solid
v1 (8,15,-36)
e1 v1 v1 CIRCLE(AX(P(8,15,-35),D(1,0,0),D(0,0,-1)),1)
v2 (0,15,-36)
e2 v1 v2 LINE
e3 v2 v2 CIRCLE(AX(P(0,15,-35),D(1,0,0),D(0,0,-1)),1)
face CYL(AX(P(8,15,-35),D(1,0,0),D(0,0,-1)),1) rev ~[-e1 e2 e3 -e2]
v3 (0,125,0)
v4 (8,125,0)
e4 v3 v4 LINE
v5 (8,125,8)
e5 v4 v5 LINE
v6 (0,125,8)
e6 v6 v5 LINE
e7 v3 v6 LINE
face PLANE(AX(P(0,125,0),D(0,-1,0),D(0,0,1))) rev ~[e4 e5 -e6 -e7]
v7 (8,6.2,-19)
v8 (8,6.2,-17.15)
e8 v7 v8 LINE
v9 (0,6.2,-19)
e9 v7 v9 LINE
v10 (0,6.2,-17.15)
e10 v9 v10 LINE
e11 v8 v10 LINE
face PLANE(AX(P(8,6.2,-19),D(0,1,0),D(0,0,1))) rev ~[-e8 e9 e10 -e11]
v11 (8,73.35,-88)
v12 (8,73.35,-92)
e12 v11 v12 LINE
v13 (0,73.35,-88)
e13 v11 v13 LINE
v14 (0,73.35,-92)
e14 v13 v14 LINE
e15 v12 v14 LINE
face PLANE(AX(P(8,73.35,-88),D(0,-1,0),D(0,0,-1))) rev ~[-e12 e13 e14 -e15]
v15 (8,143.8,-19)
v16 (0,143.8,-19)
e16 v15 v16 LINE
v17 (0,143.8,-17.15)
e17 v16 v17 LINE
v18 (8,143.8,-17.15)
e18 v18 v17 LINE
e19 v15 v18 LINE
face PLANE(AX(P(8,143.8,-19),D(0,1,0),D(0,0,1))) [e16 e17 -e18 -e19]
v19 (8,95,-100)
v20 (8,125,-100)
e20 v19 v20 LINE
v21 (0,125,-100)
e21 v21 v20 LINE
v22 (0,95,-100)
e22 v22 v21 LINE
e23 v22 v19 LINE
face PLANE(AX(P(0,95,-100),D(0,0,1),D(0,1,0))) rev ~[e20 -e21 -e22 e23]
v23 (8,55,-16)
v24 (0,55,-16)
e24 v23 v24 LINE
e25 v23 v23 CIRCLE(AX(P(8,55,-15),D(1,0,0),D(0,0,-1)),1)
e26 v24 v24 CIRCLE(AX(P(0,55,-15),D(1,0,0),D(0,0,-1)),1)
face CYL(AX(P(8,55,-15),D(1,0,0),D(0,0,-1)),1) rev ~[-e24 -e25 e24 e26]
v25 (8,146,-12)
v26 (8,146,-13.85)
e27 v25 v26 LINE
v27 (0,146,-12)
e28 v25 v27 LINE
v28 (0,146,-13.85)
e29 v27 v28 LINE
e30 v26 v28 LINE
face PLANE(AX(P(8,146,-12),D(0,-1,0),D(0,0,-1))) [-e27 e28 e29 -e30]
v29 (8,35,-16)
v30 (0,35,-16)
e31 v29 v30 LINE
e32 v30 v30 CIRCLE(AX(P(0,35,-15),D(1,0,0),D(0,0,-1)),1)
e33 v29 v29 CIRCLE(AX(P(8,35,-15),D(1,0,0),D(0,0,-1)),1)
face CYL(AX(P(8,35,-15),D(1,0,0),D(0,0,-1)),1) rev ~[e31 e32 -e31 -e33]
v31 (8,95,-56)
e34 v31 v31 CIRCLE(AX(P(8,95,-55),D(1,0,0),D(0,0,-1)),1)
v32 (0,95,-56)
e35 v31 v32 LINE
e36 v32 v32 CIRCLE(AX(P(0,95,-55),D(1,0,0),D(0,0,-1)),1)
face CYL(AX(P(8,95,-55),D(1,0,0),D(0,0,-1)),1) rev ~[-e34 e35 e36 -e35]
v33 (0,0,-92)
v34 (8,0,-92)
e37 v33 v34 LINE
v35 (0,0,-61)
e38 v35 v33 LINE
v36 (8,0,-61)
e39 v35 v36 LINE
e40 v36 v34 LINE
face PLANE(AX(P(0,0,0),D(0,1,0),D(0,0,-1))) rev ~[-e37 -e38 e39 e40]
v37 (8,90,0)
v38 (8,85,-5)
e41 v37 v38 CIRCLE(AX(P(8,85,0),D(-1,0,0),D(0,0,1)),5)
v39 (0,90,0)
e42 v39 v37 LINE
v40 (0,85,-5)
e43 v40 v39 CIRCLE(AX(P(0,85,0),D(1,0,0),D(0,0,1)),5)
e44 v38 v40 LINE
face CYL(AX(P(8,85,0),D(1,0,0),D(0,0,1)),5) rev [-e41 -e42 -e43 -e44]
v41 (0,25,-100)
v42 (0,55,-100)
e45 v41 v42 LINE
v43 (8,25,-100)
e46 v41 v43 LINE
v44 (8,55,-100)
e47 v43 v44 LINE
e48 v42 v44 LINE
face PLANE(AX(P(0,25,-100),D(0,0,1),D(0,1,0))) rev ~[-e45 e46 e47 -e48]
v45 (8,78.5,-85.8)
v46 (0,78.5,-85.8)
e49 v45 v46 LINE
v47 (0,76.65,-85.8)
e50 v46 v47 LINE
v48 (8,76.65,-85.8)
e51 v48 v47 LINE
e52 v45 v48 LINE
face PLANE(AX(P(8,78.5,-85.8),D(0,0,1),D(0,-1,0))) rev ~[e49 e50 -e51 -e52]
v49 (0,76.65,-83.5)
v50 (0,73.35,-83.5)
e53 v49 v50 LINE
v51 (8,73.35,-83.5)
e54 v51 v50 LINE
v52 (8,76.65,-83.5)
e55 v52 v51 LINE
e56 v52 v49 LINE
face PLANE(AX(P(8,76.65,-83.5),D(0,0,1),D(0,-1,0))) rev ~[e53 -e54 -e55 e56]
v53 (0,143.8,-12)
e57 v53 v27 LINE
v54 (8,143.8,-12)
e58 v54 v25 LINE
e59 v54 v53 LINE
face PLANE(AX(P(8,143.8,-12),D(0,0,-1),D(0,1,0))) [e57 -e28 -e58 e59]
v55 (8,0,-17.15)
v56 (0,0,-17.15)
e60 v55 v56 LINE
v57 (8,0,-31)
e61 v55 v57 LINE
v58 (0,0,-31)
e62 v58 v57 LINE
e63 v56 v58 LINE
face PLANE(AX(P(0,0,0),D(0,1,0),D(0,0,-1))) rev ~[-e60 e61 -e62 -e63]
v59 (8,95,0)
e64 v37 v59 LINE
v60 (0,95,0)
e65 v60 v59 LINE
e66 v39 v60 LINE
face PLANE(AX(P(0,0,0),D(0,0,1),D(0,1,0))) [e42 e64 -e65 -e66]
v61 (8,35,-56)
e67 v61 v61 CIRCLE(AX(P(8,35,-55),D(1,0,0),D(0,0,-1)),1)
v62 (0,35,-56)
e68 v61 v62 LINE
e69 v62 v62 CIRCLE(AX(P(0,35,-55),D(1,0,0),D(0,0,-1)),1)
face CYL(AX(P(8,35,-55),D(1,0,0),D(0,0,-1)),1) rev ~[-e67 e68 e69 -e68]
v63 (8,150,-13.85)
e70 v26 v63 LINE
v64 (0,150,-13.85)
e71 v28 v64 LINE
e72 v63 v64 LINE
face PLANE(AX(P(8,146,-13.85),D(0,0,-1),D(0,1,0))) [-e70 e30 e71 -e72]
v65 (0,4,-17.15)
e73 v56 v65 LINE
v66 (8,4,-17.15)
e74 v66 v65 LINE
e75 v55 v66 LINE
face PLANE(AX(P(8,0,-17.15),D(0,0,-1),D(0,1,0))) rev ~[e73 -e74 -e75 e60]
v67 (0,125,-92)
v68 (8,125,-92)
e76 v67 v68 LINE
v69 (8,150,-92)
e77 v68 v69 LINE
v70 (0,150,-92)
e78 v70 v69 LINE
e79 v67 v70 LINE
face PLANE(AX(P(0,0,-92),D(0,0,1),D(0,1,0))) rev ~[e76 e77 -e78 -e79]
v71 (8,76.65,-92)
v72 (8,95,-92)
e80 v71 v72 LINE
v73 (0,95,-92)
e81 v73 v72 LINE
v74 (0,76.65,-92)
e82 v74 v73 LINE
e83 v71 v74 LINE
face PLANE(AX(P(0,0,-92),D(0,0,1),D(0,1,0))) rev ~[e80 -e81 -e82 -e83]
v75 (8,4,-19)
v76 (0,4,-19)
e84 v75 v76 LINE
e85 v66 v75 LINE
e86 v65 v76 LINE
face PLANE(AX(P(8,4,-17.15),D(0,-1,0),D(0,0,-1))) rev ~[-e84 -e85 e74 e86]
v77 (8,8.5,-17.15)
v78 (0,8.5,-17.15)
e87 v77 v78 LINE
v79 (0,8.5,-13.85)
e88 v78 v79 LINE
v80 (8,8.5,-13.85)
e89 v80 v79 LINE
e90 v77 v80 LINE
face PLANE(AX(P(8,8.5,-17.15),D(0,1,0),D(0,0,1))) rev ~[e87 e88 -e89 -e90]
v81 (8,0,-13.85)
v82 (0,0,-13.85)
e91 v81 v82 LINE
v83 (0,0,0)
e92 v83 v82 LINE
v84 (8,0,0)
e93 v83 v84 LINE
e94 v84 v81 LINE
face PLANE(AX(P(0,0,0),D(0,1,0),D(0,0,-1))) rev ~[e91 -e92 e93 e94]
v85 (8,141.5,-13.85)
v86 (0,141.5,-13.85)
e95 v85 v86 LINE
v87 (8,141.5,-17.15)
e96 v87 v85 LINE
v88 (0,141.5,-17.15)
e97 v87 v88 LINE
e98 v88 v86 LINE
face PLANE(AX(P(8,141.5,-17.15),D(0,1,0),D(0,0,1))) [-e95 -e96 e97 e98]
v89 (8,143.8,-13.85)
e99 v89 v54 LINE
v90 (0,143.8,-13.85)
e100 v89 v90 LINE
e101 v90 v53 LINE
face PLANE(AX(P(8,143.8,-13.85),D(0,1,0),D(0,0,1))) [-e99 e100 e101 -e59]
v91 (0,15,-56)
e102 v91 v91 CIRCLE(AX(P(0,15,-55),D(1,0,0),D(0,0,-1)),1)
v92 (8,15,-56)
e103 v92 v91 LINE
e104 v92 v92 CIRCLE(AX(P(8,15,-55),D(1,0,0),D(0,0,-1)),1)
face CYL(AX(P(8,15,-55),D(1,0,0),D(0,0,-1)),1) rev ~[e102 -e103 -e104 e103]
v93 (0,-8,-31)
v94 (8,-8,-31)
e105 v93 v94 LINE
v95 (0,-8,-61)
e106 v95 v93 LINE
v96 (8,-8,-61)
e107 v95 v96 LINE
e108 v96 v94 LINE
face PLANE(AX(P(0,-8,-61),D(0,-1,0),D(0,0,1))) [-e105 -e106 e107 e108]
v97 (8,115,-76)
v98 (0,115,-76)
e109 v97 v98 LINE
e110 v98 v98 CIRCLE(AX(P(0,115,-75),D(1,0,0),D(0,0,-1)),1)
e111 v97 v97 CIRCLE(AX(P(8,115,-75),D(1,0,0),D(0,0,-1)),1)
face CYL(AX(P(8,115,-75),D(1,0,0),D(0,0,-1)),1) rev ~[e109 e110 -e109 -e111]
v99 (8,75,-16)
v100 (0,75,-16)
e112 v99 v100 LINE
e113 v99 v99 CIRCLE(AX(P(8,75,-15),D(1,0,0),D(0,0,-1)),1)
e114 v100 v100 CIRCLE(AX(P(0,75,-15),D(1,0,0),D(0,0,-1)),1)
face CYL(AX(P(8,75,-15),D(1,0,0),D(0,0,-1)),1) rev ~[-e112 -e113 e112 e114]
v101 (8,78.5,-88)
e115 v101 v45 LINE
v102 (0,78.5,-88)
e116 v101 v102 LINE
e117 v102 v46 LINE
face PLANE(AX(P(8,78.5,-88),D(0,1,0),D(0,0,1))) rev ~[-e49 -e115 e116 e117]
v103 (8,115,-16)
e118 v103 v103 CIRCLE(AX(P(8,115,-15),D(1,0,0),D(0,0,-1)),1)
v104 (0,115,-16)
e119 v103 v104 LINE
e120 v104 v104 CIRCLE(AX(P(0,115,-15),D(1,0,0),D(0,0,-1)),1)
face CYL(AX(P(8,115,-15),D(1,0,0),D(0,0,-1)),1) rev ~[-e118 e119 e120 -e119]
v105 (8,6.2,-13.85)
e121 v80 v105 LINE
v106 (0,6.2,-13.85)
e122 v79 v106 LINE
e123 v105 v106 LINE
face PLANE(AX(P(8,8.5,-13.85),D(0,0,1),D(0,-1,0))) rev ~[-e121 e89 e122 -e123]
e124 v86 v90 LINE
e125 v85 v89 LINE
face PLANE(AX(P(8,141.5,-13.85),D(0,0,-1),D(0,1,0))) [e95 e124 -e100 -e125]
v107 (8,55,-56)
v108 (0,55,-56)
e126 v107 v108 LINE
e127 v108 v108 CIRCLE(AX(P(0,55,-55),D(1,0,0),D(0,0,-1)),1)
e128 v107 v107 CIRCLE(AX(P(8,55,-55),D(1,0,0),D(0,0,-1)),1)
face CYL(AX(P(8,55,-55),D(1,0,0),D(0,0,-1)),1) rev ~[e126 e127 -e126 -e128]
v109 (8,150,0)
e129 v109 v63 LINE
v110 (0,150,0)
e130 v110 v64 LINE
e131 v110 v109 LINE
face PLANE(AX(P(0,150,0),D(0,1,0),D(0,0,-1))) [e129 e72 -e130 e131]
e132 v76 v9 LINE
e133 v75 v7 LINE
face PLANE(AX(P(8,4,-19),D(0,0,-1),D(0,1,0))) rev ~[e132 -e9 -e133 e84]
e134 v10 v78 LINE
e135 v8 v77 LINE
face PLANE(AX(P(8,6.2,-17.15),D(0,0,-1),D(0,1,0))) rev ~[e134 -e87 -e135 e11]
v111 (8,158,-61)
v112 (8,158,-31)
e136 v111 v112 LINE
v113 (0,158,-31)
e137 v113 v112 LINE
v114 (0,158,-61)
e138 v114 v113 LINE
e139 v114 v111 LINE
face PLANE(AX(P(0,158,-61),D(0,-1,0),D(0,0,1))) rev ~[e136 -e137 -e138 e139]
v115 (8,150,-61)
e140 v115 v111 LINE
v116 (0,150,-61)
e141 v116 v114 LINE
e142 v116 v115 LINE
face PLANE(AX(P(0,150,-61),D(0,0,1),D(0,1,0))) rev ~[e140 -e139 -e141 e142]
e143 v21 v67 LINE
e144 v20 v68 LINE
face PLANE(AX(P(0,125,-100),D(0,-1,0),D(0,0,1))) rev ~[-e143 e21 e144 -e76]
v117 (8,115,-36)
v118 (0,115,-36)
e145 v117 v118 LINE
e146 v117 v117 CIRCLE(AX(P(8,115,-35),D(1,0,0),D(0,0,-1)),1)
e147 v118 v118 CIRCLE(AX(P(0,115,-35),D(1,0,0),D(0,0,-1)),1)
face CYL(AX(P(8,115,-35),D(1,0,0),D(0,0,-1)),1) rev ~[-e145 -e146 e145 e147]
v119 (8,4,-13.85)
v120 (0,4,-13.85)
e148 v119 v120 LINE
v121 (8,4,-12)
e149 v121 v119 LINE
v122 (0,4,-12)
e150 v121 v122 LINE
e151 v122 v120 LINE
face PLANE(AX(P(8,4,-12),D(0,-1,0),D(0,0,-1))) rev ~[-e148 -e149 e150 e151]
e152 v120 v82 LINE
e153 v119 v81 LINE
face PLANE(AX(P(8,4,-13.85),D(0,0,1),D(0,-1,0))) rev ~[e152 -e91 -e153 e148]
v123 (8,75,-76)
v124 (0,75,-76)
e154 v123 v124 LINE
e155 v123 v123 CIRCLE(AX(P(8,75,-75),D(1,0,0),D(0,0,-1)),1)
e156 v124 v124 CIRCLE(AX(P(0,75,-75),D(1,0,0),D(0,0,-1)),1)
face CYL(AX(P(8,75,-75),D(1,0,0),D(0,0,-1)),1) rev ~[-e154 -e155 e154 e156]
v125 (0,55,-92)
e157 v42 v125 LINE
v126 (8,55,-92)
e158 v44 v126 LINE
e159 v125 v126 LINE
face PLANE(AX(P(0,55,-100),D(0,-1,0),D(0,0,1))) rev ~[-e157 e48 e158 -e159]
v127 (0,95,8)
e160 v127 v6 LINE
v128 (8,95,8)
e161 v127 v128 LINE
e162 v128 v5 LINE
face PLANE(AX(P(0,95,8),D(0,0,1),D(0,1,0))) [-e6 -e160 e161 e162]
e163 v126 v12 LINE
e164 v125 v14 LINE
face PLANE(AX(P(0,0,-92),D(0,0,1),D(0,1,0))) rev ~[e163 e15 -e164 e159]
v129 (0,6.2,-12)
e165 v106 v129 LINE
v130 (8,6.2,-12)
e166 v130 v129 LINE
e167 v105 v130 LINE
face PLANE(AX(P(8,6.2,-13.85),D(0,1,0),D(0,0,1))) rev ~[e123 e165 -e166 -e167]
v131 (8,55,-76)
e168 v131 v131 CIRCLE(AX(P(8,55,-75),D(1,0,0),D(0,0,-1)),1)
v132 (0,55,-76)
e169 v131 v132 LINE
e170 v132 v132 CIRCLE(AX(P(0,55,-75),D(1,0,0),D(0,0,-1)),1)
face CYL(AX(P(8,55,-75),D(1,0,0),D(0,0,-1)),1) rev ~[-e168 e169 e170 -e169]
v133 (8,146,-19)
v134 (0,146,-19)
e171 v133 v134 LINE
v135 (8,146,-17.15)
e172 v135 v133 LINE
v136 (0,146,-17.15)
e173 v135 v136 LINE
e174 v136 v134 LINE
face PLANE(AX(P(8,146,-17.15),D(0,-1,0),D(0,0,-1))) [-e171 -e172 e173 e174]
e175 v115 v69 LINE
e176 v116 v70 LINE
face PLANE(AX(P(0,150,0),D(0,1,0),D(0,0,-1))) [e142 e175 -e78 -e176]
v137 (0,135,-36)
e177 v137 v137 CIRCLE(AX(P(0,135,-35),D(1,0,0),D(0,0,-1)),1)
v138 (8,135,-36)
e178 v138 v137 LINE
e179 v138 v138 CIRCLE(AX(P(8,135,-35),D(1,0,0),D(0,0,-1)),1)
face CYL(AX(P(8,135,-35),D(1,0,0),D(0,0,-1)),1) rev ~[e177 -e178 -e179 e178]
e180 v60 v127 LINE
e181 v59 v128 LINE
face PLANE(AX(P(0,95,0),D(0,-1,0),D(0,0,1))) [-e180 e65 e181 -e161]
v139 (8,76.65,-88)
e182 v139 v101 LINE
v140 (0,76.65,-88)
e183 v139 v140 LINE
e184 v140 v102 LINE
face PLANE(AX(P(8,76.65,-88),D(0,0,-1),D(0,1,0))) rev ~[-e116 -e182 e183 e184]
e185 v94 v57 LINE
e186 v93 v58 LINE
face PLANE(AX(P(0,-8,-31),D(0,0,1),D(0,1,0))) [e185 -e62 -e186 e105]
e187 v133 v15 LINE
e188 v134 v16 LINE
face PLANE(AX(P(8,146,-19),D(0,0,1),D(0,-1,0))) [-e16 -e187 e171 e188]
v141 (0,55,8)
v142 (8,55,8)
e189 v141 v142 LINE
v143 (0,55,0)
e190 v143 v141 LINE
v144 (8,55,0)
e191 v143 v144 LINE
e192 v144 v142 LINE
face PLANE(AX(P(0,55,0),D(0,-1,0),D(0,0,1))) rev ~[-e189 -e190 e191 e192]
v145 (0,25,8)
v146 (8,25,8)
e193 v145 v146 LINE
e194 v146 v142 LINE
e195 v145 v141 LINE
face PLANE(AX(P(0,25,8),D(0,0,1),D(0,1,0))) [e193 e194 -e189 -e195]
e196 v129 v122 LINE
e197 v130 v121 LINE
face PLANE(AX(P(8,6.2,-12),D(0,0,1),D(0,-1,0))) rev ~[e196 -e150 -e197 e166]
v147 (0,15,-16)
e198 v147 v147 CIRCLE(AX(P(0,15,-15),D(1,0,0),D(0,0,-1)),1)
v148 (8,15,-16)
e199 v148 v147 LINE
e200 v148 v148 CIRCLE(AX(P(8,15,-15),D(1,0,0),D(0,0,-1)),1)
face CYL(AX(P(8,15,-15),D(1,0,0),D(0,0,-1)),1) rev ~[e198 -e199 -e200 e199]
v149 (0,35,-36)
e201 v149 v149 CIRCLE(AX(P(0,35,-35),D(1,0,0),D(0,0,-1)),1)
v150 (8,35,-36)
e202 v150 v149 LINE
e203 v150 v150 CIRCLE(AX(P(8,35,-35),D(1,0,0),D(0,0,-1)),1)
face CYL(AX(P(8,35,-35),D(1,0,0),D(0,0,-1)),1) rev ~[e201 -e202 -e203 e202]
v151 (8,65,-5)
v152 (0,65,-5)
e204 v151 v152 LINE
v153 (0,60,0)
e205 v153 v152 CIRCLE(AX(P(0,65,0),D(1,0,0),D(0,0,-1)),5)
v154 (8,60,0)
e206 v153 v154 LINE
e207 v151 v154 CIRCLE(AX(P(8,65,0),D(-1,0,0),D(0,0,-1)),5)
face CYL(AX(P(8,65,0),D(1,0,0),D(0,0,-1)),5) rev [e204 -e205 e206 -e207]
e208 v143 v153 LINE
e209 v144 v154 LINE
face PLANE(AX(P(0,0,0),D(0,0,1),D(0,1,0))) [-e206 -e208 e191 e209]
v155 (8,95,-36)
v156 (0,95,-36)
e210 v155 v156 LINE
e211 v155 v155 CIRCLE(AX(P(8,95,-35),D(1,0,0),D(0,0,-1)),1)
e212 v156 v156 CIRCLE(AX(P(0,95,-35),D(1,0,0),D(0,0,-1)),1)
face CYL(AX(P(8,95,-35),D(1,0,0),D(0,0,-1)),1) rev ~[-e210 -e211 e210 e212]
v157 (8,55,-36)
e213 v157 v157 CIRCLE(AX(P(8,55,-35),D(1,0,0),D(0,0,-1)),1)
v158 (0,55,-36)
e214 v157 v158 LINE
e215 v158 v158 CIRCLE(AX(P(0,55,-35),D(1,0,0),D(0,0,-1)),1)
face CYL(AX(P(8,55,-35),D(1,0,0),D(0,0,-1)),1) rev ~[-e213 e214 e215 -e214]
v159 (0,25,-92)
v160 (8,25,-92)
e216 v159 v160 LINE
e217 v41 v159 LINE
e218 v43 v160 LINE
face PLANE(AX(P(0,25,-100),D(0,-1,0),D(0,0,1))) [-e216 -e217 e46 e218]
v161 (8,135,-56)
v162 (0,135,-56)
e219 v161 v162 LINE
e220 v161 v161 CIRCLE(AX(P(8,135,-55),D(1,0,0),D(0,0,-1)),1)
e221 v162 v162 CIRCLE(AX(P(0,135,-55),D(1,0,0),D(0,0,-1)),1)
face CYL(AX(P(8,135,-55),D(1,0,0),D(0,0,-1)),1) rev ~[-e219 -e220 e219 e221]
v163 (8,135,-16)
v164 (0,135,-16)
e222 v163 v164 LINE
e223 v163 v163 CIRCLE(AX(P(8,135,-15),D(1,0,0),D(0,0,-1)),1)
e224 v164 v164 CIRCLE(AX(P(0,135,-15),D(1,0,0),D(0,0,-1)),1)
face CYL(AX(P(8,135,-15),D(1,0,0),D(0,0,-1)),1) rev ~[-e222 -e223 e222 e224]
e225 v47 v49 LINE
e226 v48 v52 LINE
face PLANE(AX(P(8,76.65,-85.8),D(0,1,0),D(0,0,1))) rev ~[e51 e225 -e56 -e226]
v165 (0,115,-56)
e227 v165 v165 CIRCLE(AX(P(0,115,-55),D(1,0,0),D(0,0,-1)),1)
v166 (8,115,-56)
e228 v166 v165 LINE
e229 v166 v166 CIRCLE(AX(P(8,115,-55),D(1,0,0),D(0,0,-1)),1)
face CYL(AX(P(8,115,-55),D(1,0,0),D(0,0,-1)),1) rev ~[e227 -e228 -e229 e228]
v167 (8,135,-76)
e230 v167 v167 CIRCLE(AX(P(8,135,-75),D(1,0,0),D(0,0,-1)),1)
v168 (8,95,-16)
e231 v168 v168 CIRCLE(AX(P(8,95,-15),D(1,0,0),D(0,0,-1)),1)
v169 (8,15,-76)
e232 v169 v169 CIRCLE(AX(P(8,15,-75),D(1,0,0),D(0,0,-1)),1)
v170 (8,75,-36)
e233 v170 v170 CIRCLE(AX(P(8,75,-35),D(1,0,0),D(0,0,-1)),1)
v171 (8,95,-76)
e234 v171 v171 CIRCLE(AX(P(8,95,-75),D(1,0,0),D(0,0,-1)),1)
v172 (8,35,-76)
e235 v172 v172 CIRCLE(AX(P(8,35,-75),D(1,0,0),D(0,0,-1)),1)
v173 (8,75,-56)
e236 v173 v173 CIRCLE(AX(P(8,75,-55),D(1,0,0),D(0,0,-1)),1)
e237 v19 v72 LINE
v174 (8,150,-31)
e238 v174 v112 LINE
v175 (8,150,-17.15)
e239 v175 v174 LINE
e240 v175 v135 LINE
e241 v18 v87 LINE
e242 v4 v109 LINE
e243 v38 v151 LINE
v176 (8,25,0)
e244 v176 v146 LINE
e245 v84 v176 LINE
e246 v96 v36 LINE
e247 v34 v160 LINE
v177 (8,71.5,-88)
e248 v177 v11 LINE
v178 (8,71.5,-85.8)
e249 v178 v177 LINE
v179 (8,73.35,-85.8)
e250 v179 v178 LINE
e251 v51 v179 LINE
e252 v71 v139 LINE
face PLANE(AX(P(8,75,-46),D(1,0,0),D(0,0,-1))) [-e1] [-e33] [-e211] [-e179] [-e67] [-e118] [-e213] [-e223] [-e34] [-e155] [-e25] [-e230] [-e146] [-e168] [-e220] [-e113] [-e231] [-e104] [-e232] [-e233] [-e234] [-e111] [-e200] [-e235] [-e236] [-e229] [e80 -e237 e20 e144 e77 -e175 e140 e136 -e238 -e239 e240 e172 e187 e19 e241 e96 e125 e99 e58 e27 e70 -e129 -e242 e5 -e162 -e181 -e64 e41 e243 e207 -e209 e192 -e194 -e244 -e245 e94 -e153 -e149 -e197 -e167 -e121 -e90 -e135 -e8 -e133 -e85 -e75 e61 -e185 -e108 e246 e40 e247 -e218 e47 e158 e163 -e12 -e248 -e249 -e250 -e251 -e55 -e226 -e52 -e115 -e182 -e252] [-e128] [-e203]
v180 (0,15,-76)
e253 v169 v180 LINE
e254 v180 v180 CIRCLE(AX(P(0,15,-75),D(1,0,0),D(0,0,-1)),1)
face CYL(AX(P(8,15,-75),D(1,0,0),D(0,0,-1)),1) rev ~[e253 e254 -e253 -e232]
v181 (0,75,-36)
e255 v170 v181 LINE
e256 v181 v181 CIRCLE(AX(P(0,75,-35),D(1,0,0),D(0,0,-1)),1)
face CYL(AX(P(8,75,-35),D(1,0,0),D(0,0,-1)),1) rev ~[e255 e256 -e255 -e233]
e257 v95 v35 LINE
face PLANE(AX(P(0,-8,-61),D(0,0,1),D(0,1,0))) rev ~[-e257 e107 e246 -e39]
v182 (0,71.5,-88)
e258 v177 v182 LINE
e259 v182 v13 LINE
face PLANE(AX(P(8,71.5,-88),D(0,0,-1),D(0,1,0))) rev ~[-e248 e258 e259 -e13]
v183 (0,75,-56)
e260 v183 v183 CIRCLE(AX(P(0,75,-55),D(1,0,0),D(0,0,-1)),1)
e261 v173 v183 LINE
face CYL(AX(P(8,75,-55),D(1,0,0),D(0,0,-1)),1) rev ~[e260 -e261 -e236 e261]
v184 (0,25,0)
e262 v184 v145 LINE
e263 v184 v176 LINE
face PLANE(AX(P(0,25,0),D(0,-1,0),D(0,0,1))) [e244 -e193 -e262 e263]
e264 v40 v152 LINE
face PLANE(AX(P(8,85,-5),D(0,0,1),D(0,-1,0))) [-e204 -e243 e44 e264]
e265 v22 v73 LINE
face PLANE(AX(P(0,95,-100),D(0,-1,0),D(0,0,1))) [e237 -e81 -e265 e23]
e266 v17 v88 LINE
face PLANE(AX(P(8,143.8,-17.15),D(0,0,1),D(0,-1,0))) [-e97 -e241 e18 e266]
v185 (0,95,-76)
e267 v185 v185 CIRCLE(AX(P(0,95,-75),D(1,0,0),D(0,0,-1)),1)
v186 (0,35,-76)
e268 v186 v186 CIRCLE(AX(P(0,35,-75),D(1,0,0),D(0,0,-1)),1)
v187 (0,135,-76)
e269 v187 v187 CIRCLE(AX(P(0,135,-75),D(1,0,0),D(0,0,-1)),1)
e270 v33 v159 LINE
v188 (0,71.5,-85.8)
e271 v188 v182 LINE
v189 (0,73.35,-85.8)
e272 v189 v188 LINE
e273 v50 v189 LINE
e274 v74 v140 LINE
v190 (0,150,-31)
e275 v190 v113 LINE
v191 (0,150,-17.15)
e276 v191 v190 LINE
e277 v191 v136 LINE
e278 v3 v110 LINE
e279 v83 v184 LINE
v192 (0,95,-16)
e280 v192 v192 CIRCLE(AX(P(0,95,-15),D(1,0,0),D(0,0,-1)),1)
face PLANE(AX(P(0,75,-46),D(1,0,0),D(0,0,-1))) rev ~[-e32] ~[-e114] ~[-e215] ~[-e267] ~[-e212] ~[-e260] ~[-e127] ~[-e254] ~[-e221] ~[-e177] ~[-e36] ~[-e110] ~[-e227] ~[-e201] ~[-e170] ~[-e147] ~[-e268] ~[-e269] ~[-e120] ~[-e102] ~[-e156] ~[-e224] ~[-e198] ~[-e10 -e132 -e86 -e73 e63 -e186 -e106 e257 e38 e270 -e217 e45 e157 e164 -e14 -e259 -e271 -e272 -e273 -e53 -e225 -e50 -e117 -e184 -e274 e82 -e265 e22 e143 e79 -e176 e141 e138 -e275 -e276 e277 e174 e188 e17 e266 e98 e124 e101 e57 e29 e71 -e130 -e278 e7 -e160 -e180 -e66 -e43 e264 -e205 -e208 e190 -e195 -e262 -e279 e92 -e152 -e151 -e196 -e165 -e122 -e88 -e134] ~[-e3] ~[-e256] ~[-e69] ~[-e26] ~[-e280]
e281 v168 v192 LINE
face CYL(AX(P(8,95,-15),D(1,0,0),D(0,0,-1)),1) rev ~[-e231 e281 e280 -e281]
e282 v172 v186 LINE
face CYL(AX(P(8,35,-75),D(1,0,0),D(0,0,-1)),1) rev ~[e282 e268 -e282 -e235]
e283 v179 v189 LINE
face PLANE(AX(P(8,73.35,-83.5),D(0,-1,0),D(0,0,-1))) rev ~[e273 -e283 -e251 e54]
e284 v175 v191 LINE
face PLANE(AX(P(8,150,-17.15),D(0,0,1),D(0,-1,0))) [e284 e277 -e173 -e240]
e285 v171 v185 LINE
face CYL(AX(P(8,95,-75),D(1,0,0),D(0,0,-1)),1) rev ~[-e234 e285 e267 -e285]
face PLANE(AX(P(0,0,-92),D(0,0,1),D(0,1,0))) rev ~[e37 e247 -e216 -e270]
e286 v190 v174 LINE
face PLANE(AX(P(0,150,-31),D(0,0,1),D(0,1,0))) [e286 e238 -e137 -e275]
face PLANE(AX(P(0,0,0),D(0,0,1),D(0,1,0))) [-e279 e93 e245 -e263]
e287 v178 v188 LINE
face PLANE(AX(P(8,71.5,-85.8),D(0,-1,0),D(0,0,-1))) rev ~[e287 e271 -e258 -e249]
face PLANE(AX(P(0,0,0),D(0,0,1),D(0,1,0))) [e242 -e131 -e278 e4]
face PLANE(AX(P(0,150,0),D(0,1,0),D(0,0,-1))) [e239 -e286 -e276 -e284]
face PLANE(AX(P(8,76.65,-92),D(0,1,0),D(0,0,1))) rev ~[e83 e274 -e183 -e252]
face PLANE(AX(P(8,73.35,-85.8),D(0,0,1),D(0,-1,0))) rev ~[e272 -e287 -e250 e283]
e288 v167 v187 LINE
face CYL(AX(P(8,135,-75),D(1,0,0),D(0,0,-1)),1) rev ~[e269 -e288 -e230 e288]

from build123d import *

# Parameters (mm, degrees)
SKETCH1_W           = 92
SKETCH1_H           = 150
BOSS_EXTRUDE1_DEPTH = 8
SKETCH2_W           = 30
SKETCH2_H           = 8
SKETCH2_W_2         = 8
SKETCH2_H_2         = 30
BOSS_EXTRUDE2_DEPTH = 8
SKETCH3_R           = 1
CUT_EXTRUDE1_DEPTH  = 8
CUT_EXTRUDE2_DEPTH  = 9
CUT_EXTRUDE4_DEPTH  = 9


with BuildPart() as part:
    # Sketch1 → Boss-Extrude1 (new body)
    with BuildSketch(Plane(origin=(0, 0, 0), x_dir=(0, 0, -1), z_dir=(1, 0, 0))):
        with Locations((46, 75)):
            Rectangle(SKETCH1_W, SKETCH1_H)
    extrude(amount=BOSS_EXTRUDE1_DEPTH)

    # Sketch2 → Boss-Extrude2 (add)
    with BuildSketch(Plane.ZY):
        with Locations((-46, 154)):
            Rectangle(SKETCH2_W, SKETCH2_H)
        with Locations((-46, -4)):
            Rectangle(SKETCH2_W, SKETCH2_H)
        with Locations((4, 40)):
            Rectangle(SKETCH2_W_2, SKETCH2_H_2)
        with Locations((4, 110)):
            Rectangle(SKETCH2_W_2, SKETCH2_H_2)
        with Locations((-96, 40)):
            Rectangle(SKETCH2_W_2, SKETCH2_H_2)
        with Locations((-96, 110)):
            Rectangle(SKETCH2_W_2, SKETCH2_H_2)
    extrude(amount=-BOSS_EXTRUDE2_DEPTH)

    # Sketch3 → Cut-Extrude1 (cut)
    with BuildSketch(Plane(origin=(8, 0, 0), x_dir=(0, 0, -1), z_dir=(1, 0, 0))):
        with Locations((15, 135)):
            Circle(SKETCH3_R)
        with Locations((35, 135)):
            Circle(SKETCH3_R)
        with Locations((55, 135)):
            Circle(SKETCH3_R)
        with Locations((75, 135)):
            Circle(SKETCH3_R)
        with Locations((15, 115)):
            Circle(SKETCH3_R)
        with Locations((35, 115)):
            Circle(SKETCH3_R)
        with Locations((55, 115)):
            Circle(SKETCH3_R)
        with Locations((75, 115)):
            Circle(SKETCH3_R)
        with Locations((15, 95)):
            Circle(SKETCH3_R)
        with Locations((35, 95)):
            Circle(SKETCH3_R)
        with Locations((55, 95)):
            Circle(SKETCH3_R)
        with Locations((75, 95)):
            Circle(SKETCH3_R)
        with Locations((15, 75)):
            Circle(SKETCH3_R)
        with Locations((35, 75)):
            Circle(SKETCH3_R)
        with Locations((55, 75)):
            Circle(SKETCH3_R)
        with Locations((75, 75)):
            Circle(SKETCH3_R)
        with Locations((15, 55)):
            Circle(SKETCH3_R)
        with Locations((35, 55)):
            Circle(SKETCH3_R)
        with Locations((55, 55)):
            Circle(SKETCH3_R)
        with Locations((75, 55)):
            Circle(SKETCH3_R)
        with Locations((15, 35)):
            Circle(SKETCH3_R)
        with Locations((35, 35)):
            Circle(SKETCH3_R)
        with Locations((55, 35)):
            Circle(SKETCH3_R)
        with Locations((75, 35)):
            Circle(SKETCH3_R)
        with Locations((15, 15)):
            Circle(SKETCH3_R)
        with Locations((35, 15)):
            Circle(SKETCH3_R)
        with Locations((55, 15)):
            Circle(SKETCH3_R)
        with Locations((75, 15)):
            Circle(SKETCH3_R)
    extrude(amount=-CUT_EXTRUDE1_DEPTH, mode=Mode.SUBTRACT)

    # Sketch4 → Cut-Extrude2 (cut, through all)
    with BuildSketch(Plane(origin=(8, 0, 0), x_dir=(0, 0, -1), z_dir=(1, 0, 0))):
        with BuildLine():
            Line((5, 85), (5, 65))
            ThreePointArc((5, 65), (0, 60), (-5, 65))
            Line((-5, 65), (-5, 85))
            ThreePointArc((-5, 85), (0, 90), (5, 85))
        make_face()
    extrude(amount=-CUT_EXTRUDE2_DEPTH, mode=Mode.SUBTRACT)

    # Sketch5 → Cut-Extrude4 (cut, through all)
    with BuildSketch(Plane(origin=(8, 0, 0), x_dir=(0, 0, -1), z_dir=(1, 0, 0))):
        Polygon((92, 76.65), (88, 76.65), (88, 78.5), (85.8, 78.5), (85.8, 76.65), (83.5, 76.65), (83.5, 73.35), (85.8, 73.35), (85.8, 71.5), (88, 71.5), (88, 73.35), (92, 73.35), align=None)
        Polygon((17.15, 0), (17.15, 4), (19, 4), (19, 6.2), (17.15, 6.2), (17.15, 8.5), (13.85, 8.5), (13.85, 6.2), (12, 6.2), (12, 4), (13.85, 4), (13.85, 0), align=None)
        Polygon((13.85, 150), (17.15, 150), (17.15, 146), (19, 146), (19, 143.8), (17.15, 143.8), (17.15, 141.5), (13.85, 141.5), (13.85, 143.8), (12, 143.8), (12, 146), (13.85, 146), align=None)
    extrude(amount=-CUT_EXTRUDE4_DEPTH, mode=Mode.SUBTRACT)


solid = part.part
